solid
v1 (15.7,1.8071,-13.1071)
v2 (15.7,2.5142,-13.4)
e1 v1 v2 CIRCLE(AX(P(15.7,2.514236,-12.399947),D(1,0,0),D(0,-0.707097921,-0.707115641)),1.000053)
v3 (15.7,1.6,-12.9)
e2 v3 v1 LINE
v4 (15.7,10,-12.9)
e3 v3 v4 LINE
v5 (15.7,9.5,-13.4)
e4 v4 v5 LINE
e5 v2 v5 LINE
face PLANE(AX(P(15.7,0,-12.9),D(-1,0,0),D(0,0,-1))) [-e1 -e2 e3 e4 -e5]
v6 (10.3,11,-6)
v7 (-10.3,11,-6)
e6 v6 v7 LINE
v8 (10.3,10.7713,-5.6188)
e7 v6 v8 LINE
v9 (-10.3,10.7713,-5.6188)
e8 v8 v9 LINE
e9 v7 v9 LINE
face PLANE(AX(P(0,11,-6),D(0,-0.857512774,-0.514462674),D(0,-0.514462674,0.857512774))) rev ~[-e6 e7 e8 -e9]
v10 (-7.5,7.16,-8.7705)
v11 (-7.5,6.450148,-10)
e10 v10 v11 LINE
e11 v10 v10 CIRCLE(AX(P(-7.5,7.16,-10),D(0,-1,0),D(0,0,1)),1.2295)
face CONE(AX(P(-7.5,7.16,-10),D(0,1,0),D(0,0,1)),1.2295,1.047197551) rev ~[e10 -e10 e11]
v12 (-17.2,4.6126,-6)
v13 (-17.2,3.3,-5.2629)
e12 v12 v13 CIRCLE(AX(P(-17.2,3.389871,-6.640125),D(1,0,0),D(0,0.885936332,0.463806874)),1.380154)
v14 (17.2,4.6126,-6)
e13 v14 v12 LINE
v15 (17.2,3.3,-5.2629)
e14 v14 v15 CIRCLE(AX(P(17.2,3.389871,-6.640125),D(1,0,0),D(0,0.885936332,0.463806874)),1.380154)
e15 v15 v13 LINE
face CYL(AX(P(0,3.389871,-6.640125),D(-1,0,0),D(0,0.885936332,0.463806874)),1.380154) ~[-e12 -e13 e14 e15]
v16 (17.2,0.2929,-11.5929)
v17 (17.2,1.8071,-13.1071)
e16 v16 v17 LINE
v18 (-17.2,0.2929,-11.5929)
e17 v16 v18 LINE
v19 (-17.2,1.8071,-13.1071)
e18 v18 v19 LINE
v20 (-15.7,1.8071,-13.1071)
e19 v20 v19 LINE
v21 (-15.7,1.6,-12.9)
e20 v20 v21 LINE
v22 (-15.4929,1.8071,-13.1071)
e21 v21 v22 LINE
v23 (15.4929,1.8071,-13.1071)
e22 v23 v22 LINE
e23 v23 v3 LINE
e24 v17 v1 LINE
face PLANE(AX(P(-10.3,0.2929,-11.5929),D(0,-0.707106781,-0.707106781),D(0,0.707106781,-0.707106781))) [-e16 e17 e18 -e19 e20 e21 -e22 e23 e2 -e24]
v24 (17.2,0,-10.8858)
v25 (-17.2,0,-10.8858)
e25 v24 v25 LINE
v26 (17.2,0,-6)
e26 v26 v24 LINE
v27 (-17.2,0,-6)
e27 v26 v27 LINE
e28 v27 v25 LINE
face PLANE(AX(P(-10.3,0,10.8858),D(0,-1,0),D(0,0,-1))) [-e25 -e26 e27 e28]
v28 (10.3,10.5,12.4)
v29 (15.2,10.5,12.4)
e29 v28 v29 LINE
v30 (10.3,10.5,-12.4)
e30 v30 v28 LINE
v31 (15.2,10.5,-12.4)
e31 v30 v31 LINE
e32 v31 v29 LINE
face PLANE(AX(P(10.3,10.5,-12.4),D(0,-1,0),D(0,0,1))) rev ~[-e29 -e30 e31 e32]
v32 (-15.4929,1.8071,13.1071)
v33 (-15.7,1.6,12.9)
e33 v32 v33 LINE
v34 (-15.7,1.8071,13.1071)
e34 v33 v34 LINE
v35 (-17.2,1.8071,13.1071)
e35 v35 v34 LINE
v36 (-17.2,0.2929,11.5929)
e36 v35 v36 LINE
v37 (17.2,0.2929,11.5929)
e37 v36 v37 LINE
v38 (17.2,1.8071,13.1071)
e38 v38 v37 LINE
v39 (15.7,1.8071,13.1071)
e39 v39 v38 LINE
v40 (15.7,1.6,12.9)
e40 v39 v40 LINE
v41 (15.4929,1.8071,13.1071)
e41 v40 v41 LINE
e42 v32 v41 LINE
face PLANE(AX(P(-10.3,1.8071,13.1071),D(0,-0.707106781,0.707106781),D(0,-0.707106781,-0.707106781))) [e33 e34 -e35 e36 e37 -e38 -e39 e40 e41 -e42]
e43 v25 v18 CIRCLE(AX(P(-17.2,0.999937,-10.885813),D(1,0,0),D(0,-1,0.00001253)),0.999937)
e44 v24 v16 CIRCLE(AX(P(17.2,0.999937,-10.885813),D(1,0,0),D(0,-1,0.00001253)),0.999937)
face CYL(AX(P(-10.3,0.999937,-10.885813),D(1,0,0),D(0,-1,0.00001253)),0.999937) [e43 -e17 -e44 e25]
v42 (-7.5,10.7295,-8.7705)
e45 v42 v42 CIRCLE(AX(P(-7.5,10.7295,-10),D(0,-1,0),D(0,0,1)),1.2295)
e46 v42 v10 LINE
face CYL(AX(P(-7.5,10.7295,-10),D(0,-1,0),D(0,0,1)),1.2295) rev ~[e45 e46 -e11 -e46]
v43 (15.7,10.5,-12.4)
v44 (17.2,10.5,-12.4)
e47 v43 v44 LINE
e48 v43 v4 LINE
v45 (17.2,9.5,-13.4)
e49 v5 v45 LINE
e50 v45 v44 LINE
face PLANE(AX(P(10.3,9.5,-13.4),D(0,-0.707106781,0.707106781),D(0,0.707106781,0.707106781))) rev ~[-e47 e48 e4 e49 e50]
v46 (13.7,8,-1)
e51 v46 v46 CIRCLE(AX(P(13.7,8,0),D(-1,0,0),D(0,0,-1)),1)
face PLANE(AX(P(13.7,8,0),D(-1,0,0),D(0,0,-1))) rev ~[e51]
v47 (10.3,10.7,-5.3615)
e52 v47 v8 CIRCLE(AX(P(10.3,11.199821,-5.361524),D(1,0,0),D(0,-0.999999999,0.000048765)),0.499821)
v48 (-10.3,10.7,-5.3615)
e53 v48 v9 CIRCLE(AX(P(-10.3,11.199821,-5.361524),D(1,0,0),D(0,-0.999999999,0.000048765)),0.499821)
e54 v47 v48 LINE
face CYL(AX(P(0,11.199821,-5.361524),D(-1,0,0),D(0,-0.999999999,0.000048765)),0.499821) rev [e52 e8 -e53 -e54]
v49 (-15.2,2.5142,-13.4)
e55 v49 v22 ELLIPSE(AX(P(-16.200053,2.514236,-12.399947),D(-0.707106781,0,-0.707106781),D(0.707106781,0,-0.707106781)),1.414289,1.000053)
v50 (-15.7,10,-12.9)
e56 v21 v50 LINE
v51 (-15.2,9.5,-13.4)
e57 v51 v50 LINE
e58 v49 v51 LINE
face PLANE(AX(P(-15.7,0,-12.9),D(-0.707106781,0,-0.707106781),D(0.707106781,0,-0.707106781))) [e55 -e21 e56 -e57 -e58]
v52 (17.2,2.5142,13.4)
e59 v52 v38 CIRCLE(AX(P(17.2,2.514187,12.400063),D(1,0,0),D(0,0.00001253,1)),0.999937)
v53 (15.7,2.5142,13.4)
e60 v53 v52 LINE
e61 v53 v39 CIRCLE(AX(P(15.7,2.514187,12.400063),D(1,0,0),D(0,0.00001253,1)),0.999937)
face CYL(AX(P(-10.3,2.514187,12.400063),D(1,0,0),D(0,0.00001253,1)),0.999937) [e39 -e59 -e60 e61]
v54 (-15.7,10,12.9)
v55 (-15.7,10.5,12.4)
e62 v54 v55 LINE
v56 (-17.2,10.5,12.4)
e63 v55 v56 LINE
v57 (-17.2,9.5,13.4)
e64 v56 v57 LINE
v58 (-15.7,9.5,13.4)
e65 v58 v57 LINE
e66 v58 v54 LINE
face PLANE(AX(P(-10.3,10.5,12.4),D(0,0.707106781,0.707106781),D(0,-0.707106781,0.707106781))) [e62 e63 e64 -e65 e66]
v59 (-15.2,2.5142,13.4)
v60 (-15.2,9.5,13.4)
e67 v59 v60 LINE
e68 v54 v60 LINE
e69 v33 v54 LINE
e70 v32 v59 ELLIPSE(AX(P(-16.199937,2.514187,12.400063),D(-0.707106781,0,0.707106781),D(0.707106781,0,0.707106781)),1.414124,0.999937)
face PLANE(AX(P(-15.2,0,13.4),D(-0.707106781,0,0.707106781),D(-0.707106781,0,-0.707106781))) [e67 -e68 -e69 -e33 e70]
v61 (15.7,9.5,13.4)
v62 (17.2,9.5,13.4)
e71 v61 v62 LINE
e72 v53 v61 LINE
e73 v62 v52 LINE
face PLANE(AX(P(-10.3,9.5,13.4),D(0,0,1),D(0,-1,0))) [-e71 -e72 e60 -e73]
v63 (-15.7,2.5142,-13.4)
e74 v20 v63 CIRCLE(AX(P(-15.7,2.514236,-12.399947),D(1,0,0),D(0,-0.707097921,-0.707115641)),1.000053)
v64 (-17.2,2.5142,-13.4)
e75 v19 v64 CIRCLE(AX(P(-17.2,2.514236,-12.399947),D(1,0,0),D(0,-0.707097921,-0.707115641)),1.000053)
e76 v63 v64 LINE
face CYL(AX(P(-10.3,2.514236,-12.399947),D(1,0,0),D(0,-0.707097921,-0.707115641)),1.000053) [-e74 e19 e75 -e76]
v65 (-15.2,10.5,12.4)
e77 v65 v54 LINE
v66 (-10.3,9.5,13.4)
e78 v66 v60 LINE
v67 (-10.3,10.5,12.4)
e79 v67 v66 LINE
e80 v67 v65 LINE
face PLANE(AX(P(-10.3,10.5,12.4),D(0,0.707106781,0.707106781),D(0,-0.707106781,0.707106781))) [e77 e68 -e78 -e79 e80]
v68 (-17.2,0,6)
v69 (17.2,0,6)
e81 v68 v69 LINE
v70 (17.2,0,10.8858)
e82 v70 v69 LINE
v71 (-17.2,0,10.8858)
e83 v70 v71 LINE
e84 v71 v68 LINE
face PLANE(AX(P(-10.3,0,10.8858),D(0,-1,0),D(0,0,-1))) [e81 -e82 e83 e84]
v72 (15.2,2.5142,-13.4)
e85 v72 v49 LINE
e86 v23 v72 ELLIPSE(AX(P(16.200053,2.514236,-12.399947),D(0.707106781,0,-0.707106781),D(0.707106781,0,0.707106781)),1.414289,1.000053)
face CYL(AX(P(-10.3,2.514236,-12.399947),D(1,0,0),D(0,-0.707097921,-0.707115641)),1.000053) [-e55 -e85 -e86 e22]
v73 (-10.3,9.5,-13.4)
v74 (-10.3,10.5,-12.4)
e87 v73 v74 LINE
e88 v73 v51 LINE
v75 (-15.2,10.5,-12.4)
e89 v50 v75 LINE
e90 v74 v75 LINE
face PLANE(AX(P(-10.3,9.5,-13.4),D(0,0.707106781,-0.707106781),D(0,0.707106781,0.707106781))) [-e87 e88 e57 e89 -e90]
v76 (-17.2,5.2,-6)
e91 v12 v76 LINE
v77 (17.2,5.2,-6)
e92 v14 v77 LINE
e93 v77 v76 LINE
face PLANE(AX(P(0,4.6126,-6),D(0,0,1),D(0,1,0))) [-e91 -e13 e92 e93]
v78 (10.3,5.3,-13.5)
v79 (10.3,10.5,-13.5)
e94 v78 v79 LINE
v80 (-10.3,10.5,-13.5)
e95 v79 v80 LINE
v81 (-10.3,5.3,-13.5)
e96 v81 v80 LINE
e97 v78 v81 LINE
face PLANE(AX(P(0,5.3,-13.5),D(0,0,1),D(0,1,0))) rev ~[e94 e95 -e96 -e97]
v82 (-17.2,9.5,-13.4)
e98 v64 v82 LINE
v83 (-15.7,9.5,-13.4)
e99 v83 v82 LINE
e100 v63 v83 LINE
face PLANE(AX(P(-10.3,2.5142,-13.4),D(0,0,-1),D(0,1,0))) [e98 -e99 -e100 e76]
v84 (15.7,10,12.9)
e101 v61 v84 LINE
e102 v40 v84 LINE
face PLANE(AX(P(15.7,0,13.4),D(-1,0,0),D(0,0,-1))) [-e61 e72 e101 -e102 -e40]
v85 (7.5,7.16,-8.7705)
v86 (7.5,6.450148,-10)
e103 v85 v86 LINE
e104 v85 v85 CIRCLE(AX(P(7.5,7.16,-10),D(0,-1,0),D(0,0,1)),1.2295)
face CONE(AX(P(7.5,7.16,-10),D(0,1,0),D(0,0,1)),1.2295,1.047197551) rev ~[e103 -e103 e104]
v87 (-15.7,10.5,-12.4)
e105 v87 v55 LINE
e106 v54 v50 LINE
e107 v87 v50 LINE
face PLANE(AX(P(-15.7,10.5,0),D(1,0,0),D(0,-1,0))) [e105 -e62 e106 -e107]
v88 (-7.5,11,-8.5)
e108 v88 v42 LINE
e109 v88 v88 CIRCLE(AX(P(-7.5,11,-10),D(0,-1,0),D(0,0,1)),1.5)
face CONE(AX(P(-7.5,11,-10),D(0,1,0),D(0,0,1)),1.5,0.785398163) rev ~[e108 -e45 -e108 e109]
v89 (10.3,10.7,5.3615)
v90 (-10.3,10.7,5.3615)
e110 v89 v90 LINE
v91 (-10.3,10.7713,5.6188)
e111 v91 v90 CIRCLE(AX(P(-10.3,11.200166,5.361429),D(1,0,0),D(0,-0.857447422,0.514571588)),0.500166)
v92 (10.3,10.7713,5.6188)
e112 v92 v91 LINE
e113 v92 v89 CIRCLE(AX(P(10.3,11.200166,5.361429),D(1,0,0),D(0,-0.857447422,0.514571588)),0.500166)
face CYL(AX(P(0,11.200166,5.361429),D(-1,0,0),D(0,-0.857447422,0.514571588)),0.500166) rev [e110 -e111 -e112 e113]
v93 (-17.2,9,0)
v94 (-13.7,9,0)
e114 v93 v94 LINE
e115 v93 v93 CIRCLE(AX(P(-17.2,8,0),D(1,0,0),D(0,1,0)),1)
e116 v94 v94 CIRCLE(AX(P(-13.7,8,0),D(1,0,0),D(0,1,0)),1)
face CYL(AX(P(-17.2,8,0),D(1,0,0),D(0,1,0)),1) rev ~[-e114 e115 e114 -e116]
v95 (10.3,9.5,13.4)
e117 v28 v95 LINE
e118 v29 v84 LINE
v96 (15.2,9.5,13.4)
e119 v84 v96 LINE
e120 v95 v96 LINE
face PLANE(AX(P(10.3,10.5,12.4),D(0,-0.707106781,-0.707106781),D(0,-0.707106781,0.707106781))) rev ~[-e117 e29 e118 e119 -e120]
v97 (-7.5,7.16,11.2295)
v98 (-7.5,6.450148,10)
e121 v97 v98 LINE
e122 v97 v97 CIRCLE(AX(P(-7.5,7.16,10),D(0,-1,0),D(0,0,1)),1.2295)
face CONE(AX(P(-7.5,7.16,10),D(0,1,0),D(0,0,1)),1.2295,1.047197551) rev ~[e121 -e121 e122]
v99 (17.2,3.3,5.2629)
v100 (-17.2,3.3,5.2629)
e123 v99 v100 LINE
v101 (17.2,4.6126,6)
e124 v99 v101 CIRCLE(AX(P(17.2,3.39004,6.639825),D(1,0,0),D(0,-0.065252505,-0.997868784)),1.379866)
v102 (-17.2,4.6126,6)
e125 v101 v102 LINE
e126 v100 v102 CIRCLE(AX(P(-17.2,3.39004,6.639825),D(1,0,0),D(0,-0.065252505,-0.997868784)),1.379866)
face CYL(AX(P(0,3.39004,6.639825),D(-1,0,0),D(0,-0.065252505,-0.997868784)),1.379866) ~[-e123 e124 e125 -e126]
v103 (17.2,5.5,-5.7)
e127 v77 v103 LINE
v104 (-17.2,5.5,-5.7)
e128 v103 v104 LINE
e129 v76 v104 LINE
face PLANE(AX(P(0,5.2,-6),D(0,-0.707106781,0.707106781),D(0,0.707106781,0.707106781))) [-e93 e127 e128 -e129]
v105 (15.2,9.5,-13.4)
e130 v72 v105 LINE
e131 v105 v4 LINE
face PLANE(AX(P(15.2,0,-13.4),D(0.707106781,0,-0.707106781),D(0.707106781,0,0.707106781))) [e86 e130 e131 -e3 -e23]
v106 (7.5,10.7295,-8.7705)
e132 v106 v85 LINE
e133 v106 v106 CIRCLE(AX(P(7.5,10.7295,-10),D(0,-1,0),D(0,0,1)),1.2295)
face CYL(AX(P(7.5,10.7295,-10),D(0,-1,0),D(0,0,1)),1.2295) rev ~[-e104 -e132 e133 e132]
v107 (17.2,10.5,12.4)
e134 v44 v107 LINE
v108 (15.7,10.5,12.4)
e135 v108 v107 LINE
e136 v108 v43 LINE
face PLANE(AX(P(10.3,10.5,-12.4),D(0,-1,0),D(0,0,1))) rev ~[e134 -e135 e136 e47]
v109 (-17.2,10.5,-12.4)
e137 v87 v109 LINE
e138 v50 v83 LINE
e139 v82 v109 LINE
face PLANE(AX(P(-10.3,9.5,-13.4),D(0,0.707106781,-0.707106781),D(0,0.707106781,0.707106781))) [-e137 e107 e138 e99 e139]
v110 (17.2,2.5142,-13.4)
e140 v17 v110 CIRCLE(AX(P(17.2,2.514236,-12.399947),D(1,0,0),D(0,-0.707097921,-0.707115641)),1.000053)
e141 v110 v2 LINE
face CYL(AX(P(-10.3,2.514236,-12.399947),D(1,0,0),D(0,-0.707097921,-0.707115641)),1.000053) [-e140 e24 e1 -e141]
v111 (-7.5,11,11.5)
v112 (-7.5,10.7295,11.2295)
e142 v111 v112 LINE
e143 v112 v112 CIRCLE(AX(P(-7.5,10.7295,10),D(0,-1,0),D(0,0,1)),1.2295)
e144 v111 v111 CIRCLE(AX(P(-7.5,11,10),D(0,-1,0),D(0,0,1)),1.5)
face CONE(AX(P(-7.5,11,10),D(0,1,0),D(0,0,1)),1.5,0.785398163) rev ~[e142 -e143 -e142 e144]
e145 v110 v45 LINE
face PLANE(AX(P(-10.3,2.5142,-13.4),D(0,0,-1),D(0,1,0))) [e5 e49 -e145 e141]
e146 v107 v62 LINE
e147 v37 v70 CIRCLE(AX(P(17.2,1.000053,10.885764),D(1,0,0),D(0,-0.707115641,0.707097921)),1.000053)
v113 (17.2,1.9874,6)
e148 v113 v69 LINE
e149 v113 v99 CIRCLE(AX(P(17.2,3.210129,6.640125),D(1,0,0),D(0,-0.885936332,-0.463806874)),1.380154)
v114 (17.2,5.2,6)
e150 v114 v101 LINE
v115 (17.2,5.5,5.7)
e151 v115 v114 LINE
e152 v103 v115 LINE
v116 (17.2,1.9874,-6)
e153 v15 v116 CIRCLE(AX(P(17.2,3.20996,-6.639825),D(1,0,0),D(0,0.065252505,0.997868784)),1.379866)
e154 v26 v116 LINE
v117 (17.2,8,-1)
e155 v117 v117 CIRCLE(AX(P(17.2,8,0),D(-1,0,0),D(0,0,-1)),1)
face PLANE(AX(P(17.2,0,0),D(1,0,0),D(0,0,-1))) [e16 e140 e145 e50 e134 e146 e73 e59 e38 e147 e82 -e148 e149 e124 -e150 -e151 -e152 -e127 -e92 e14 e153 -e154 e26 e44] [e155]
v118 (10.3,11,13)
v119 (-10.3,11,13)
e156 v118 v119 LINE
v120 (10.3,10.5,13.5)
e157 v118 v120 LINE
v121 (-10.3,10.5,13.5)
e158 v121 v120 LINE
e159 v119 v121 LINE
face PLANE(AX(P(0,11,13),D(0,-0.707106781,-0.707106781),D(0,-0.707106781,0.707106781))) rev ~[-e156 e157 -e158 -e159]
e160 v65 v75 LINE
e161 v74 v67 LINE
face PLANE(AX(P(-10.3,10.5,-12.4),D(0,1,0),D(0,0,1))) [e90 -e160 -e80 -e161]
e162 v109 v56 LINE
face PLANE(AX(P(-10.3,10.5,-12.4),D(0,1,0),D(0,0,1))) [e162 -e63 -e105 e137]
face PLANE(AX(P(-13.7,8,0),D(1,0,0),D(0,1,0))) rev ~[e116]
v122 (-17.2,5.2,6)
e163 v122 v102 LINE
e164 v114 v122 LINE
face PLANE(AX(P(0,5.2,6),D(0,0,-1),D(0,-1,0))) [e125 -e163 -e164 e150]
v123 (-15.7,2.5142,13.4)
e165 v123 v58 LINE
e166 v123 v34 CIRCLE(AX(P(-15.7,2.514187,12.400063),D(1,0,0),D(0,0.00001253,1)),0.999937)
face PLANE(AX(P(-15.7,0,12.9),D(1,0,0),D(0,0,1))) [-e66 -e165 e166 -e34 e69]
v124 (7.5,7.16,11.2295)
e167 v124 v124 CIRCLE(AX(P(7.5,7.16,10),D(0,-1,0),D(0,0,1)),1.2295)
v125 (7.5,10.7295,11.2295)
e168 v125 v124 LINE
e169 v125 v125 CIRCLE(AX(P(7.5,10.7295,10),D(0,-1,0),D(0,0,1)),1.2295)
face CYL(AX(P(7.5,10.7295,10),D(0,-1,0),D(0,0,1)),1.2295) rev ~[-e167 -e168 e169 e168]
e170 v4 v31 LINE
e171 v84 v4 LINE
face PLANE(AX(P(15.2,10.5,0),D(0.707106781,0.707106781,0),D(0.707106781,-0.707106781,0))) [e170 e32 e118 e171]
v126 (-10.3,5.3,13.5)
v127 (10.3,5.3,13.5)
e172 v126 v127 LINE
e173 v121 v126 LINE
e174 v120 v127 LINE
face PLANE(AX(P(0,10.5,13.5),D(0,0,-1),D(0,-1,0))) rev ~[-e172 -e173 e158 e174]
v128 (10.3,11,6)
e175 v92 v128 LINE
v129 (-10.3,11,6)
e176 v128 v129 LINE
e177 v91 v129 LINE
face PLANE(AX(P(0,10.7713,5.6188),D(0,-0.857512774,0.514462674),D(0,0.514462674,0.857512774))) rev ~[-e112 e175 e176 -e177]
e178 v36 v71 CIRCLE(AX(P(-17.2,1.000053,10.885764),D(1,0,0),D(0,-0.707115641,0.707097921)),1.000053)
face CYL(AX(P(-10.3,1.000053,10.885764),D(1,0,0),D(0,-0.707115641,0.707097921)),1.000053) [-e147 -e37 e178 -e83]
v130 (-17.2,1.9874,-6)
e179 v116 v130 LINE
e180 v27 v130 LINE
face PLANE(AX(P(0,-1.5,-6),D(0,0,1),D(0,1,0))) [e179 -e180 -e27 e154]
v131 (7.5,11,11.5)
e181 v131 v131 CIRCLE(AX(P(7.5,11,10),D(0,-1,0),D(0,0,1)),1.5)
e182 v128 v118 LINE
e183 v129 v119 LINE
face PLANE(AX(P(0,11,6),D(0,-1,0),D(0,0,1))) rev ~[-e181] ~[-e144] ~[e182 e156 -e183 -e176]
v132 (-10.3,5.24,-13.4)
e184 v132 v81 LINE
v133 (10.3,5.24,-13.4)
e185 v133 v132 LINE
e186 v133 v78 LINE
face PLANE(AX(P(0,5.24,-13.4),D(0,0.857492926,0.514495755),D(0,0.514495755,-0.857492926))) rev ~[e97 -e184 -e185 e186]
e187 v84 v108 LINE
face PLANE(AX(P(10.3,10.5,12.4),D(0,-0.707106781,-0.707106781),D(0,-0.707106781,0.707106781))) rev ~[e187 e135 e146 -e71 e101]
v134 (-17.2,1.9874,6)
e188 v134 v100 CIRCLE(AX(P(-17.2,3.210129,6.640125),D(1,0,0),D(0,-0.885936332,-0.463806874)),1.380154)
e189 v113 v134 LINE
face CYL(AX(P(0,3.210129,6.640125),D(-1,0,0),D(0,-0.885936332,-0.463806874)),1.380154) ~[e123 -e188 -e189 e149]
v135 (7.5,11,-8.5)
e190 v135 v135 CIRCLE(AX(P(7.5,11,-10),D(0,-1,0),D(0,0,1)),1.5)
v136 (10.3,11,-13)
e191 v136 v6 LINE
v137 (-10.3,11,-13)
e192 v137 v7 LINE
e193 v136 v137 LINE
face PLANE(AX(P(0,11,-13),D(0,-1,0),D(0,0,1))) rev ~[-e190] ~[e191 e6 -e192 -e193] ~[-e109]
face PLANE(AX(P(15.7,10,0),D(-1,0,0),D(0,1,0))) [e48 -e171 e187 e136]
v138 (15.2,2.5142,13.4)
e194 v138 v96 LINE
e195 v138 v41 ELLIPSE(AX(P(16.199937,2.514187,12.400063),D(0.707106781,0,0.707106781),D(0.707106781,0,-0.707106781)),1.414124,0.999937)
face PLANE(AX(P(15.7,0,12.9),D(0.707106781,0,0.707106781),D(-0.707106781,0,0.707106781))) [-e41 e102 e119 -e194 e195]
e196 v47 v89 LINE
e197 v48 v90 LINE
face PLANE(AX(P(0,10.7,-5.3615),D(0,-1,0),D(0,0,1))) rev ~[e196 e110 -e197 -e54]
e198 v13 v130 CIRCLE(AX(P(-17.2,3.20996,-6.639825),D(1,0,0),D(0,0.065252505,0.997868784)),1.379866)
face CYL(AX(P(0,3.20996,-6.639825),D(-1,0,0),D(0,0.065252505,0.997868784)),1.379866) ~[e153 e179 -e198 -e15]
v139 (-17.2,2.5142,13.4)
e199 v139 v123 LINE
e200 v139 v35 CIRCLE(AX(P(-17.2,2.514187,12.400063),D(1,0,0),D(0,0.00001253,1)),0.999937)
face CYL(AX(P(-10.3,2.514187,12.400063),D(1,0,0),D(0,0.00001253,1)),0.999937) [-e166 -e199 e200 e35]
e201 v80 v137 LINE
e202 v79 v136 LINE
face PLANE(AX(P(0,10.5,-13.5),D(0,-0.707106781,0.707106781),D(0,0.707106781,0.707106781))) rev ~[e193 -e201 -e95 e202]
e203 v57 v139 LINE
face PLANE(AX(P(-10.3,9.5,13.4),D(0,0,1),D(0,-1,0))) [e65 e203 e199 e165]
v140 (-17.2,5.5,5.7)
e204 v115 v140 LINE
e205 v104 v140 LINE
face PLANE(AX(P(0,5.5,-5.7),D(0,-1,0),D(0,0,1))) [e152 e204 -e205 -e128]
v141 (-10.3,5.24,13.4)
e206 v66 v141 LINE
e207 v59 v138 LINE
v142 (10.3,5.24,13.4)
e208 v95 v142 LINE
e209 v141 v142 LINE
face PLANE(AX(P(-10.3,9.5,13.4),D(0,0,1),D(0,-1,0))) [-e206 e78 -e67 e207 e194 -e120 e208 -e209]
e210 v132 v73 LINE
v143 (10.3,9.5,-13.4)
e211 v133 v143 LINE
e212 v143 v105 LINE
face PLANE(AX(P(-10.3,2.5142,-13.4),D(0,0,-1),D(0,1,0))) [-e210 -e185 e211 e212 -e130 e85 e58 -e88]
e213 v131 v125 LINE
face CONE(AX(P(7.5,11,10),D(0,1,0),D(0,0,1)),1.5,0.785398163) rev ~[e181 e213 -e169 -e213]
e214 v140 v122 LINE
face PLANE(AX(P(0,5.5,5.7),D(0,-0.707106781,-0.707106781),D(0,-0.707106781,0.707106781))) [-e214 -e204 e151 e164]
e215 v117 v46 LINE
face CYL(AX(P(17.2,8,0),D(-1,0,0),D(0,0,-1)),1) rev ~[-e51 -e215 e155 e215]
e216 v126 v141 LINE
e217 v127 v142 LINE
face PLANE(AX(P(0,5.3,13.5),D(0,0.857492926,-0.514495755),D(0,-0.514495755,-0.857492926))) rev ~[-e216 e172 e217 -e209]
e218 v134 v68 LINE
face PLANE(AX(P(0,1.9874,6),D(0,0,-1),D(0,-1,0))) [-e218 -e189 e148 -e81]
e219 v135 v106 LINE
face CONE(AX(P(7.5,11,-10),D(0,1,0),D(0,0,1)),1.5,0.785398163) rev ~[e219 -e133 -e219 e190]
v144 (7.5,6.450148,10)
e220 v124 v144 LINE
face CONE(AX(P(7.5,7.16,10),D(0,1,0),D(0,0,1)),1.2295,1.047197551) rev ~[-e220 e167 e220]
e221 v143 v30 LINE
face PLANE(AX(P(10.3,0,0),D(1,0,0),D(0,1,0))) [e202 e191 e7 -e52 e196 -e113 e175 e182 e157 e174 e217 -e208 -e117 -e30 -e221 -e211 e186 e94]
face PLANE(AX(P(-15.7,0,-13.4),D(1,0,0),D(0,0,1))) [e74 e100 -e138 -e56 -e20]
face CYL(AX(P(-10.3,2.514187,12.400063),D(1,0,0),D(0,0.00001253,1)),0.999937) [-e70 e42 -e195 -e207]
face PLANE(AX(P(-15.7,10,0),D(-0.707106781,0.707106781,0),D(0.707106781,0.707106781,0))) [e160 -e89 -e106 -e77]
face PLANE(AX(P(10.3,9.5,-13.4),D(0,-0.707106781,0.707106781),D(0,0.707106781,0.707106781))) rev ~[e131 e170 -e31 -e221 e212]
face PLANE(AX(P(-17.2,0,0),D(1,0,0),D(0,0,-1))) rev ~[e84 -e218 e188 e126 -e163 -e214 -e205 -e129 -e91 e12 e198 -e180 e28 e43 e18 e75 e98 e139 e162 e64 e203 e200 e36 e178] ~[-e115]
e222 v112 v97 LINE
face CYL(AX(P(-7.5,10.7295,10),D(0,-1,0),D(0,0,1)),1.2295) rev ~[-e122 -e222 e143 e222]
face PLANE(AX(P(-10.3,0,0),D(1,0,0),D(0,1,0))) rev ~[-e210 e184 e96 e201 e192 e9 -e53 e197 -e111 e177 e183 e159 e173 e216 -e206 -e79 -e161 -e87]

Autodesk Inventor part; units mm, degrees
sketch "Sketch_3" plane through (0, 0, 0) normal (1, 0, 0) x (0, 1, 0)
  line L0 (10.5, 13.5) -> (5.3, 13.5)
  line L1 (5.3, 13.5) -> (5.24, 13.4)
  line L2 (5.24, 13.4) -> (2.5142, 13.4)
  arc A0 (2.5142, 13.4) -> (1.8071, 13.1071) centre (2.5142, 12.4) ccw
  line L3 (1.8071, 13.1071) -> (0.2929, 11.5929)
  arc A1 (0.2929, 11.5929) -> (0, 10.8858) centre (1, 10.8858) ccw
  line L4 (0, 10.8858) -> (0, -10.8858)
  arc A2 (0, -10.8858) -> (0.2929, -11.5929) centre (1, -10.8858) ccw
  line L5 (0.2929, -11.5929) -> (1.8071, -13.1071)
  arc A3 (1.8071, -13.1071) -> (2.5142, -13.4) centre (2.5142, -12.4) ccw
  line L6 (2.5142, -13.4) -> (5.24, -13.4)
  line L7 (5.24, -13.4) -> (5.3, -13.5)
  line L8 (5.3, -13.5) -> (10.5, -13.5)
  line L9 (10.5, -13.5) -> (11, -13)
  line L10 (11, -13) -> (11, -6)
  line L11 (11, -6) -> (10.7713, -5.6188)
  arc A4 (10.7, -5.3615) -> (10.7713, -5.6188) centre (11.2, -5.3615) ccw
  line L12 (10.7, -5.3615) -> (10.7, 5.3615)
  arc A5 (10.7713, 5.6188) -> (10.7, 5.3615) centre (11.2, 5.3615) ccw
  line L13 (10.7713, 5.6188) -> (11, 6)
  line L14 (11, 6) -> (11, 13)
  line L15 (11, 13) -> (10.5, 13.5)
extrude "Extrusion1" add sketch "Sketch_3" along normal mid plane 20.6
sketch "Sketch_9" plane through (10.3, 0, 0) normal (1, 0, 0) x (0, 0, -1)
  arc A0 (-13.4, 2.5142) -> (-13.1071, 1.8071) centre (-12.4, 2.5142) ccw
  line L0 (-13.1071, 1.8071) -> (-11.5929, 0.2929)
  arc A1 (-11.5929, 0.2929) -> (-10.8858, 0) centre (-10.8858, 1) ccw
  line L1 (-10.8858, 0) -> (10.8858, 0)
  arc A2 (10.8858, 0) -> (11.5929, 0.2929) centre (10.8858, 1) ccw
  line L2 (11.5929, 0.2929) -> (13.1071, 1.8071)
  arc A3 (13.1071, 1.8071) -> (13.4, 2.5142) centre (12.4, 2.5142) ccw
  line L3 (13.4, 2.5142) -> (13.4, 9.5)
  line L4 (13.4, 9.5) -> (12.4, 10.5)
  line L5 (12.4, 10.5) -> (-12.4, 10.5)
  line L6 (-12.4, 10.5) -> (-13.4, 9.5)
  line L7 (-13.4, 9.5) -> (-13.4, 2.5142)
extrude "Extrusion2" add sketch "Sketch_9" along normal blind 6.9
sketch "Sketch_15" plane through (-10.3, 0, 0) normal (1, 0, 0) x (0, 0, -1)
  arc A0 (-13.4, 2.5142) -> (-13.1071, 1.8071) centre (-12.4, 2.5142) ccw
  line L0 (-13.1071, 1.8071) -> (-11.5929, 0.2929)
  arc A1 (-11.5929, 0.2929) -> (-10.8858, 0) centre (-10.8858, 1) ccw
  line L1 (-10.8858, 0) -> (10.8858, 0)
  arc A2 (10.8858, 0) -> (11.5929, 0.2929) centre (10.8858, 1) ccw
  line L2 (11.5929, 0.2929) -> (13.1071, 1.8071)
  arc A3 (13.1071, 1.8071) -> (13.4, 2.5142) centre (12.4, 2.5142) ccw
  line L3 (13.4, 2.5142) -> (13.4, 9.5)
  line L4 (13.4, 9.5) -> (12.4, 10.5)
  line L5 (12.4, 10.5) -> (-12.4, 10.5)
  line L6 (-12.4, 10.5) -> (-13.4, 9.5)
  line L7 (-13.4, 9.5) -> (-13.4, 2.5142)
extrude "Extrusion3" add sketch "Sketch_15" against normal blind 6.9
sketch "Sketch_40" plane through (0, 0, 0) normal (1, 0, 0) x (0, 1, 0)
  line L0 (-1.5, 6) -> (-2, 5.5)
  line L1 (-2, 5.5) -> (-2, -5.5)
  line L2 (-2, -5.5) -> (-1.5, -6)
  line L3 (-1.5, -6) -> (1.9874, -6)
  arc A0 (3.3, -5.2629) -> (1.9874, -6) centre (3.21, -6.64) ccw
  arc A1 (4.6126, -6) -> (3.3, -5.2629) centre (3.39, -6.64) ccw
  line L4 (4.6126, -6) -> (5.2, -6)
  line L5 (5.2, -6) -> (5.5, -5.7)
  line L6 (5.5, -5.7) -> (5.5, 5.7)
  line L7 (5.5, 5.7) -> (5.2, 6)
  line L8 (5.2, 6) -> (4.6126, 6)
  arc A2 (3.3, 5.2629) -> (4.6126, 6) centre (3.39, 6.64) ccw
  arc A3 (1.9874, 6) -> (3.3, 5.2629) centre (3.21, 6.64) ccw
  line L9 (1.9874, 6) -> (-1.5, 6)
extrude "Extrusion4" cut sketch "Sketch_40" along normal mid plane 34.4
sketch "Sketch5" plane through (-10.3, 11, 6) normal (0, 1, 0) x (1, 0, 0)
  point P0 (17.8, -4)
hole "Hole1" at (7.5, 11, 10) direction (0, -1, 0) diameter 2.459 depth 3.84 tip angle 120 countersink diameter 3 countersink angle 90 thread size "M3x0.5" class "6H" standard "ISO Metric profile"
pattern_linear "Rectangular Pattern1" count 2 spacing 20 along (0, 0, -1) count 2 spacing 15 along (-1, 0, 0) of "Hole1"
sketch "Sketch_38" plane through (0, 0, 0) normal (0, 0, 1) x (1, 0, 0)
  line L0 (15.2, 10.5) -> (15.7, 10)
  line L1 (15.7, 10) -> (15.7, 10.5)
  line L2 (15.7, 10.5) -> (15.2, 10.5)
extrude "Extrusion5" cut sketch "Sketch_38" along normal mid plane 26.8
sketch "Sketch_39" plane through (0, 0, 0) normal (0, 0, 1) x (1, 0, 0)
  line L0 (-15.7, 10.5) -> (-15.7, 10)
  line L1 (-15.7, 10) -> (-15.2, 10.5)
  line L2 (-15.2, 10.5) -> (-15.7, 10.5)
extrude "Extrusion6" cut sketch "Sketch_39" along normal mid plane 26.8
sketch "Sketch_21" plane through (0, 0, 0) normal (0, 1, 0) x (-1, 0, 0)
  line L0 (15.7, -13.4) -> (15.7, -12.9)
  line L1 (15.7, -12.9) -> (15.2, -13.4)
  line L2 (15.2, -13.4) -> (15.7, -13.4)
extrude "Extrusion7" cut sketch "Sketch_21" along normal blind 11
sketch "Sketch_22" plane through (0, 0, 0) normal (0, 1, 0) x (-1, 0, 0)
  line L0 (-15.2, -13.4) -> (-15.7, -12.9)
  line L1 (-15.7, -12.9) -> (-15.7, -13.4)
  line L2 (-15.7, -13.4) -> (-15.2, -13.4)
extrude "Extrusion8" cut sketch "Sketch_22" along normal blind 11
sketch "Sketch_23" plane through (0, 0, 0) normal (0, 1, 0) x (-1, 0, 0)
  line L0 (-15.2, 13.4) -> (-15.7, 13.4)
  line L1 (-15.7, 13.4) -> (-15.7, 12.9)
  line L2 (-15.7, 12.9) -> (-15.2, 13.4)
extrude "Extrusion9" cut sketch "Sketch_23" along normal blind 11
sketch "Sketch_24" plane through (0, 0, 0) normal (0, 1, 0) x (-1, 0, 0)
  line L0 (15.7, 13.4) -> (15.2, 13.4)
  line L1 (15.2, 13.4) -> (15.7, 12.9)
  line L2 (15.7, 12.9) -> (15.7, 13.4)
extrude "Extrusion10" cut sketch "Sketch_24" along normal blind 11
sketch "Sketch12" plane through (17.2, 0, 0) normal (1, 0, 0) x (0, 0, -1)
  point P0 (0, 8)
hole "Hole2" at (17.2, 8, 0) direction (-1, 0, 0) diameter 2 depth 3.5
sketch "Sketch_32" plane through (0, 0, 0) normal (0, 0, 1) x (1, 0, 0)
  line L0 (-13.7, 8) -> (-17.2, 8)
  line L1 (-17.2, 8) -> (-17.2, 9)
  line L2 (-17.2, 9) -> (-13.7, 9)
  line L3 (-13.7, 9) -> (-13.7, 8)
  line L4 (-13.7, 8) -> (-17.2, 8)
revolve "Revolution1" cut sketch "Sketch_32" angle 360 about axis through (-13.7, 8, 0) along (1, 0, 0)
ref_plane "4track_XY" through (0, 0, 0) normal (1, 0, 0) x (0, 0, -1)
ref_plane "4track_YZ" through (0, 0, 0) normal (0, 0, -1) x (0, 1, 0)
ref_plane "4track_ZX" through (0, 0, 0) normal (0, 1, 0) x (1, 0, 0)
properties part number "SRS12MSS Slider" material "Steel, Alloy"
